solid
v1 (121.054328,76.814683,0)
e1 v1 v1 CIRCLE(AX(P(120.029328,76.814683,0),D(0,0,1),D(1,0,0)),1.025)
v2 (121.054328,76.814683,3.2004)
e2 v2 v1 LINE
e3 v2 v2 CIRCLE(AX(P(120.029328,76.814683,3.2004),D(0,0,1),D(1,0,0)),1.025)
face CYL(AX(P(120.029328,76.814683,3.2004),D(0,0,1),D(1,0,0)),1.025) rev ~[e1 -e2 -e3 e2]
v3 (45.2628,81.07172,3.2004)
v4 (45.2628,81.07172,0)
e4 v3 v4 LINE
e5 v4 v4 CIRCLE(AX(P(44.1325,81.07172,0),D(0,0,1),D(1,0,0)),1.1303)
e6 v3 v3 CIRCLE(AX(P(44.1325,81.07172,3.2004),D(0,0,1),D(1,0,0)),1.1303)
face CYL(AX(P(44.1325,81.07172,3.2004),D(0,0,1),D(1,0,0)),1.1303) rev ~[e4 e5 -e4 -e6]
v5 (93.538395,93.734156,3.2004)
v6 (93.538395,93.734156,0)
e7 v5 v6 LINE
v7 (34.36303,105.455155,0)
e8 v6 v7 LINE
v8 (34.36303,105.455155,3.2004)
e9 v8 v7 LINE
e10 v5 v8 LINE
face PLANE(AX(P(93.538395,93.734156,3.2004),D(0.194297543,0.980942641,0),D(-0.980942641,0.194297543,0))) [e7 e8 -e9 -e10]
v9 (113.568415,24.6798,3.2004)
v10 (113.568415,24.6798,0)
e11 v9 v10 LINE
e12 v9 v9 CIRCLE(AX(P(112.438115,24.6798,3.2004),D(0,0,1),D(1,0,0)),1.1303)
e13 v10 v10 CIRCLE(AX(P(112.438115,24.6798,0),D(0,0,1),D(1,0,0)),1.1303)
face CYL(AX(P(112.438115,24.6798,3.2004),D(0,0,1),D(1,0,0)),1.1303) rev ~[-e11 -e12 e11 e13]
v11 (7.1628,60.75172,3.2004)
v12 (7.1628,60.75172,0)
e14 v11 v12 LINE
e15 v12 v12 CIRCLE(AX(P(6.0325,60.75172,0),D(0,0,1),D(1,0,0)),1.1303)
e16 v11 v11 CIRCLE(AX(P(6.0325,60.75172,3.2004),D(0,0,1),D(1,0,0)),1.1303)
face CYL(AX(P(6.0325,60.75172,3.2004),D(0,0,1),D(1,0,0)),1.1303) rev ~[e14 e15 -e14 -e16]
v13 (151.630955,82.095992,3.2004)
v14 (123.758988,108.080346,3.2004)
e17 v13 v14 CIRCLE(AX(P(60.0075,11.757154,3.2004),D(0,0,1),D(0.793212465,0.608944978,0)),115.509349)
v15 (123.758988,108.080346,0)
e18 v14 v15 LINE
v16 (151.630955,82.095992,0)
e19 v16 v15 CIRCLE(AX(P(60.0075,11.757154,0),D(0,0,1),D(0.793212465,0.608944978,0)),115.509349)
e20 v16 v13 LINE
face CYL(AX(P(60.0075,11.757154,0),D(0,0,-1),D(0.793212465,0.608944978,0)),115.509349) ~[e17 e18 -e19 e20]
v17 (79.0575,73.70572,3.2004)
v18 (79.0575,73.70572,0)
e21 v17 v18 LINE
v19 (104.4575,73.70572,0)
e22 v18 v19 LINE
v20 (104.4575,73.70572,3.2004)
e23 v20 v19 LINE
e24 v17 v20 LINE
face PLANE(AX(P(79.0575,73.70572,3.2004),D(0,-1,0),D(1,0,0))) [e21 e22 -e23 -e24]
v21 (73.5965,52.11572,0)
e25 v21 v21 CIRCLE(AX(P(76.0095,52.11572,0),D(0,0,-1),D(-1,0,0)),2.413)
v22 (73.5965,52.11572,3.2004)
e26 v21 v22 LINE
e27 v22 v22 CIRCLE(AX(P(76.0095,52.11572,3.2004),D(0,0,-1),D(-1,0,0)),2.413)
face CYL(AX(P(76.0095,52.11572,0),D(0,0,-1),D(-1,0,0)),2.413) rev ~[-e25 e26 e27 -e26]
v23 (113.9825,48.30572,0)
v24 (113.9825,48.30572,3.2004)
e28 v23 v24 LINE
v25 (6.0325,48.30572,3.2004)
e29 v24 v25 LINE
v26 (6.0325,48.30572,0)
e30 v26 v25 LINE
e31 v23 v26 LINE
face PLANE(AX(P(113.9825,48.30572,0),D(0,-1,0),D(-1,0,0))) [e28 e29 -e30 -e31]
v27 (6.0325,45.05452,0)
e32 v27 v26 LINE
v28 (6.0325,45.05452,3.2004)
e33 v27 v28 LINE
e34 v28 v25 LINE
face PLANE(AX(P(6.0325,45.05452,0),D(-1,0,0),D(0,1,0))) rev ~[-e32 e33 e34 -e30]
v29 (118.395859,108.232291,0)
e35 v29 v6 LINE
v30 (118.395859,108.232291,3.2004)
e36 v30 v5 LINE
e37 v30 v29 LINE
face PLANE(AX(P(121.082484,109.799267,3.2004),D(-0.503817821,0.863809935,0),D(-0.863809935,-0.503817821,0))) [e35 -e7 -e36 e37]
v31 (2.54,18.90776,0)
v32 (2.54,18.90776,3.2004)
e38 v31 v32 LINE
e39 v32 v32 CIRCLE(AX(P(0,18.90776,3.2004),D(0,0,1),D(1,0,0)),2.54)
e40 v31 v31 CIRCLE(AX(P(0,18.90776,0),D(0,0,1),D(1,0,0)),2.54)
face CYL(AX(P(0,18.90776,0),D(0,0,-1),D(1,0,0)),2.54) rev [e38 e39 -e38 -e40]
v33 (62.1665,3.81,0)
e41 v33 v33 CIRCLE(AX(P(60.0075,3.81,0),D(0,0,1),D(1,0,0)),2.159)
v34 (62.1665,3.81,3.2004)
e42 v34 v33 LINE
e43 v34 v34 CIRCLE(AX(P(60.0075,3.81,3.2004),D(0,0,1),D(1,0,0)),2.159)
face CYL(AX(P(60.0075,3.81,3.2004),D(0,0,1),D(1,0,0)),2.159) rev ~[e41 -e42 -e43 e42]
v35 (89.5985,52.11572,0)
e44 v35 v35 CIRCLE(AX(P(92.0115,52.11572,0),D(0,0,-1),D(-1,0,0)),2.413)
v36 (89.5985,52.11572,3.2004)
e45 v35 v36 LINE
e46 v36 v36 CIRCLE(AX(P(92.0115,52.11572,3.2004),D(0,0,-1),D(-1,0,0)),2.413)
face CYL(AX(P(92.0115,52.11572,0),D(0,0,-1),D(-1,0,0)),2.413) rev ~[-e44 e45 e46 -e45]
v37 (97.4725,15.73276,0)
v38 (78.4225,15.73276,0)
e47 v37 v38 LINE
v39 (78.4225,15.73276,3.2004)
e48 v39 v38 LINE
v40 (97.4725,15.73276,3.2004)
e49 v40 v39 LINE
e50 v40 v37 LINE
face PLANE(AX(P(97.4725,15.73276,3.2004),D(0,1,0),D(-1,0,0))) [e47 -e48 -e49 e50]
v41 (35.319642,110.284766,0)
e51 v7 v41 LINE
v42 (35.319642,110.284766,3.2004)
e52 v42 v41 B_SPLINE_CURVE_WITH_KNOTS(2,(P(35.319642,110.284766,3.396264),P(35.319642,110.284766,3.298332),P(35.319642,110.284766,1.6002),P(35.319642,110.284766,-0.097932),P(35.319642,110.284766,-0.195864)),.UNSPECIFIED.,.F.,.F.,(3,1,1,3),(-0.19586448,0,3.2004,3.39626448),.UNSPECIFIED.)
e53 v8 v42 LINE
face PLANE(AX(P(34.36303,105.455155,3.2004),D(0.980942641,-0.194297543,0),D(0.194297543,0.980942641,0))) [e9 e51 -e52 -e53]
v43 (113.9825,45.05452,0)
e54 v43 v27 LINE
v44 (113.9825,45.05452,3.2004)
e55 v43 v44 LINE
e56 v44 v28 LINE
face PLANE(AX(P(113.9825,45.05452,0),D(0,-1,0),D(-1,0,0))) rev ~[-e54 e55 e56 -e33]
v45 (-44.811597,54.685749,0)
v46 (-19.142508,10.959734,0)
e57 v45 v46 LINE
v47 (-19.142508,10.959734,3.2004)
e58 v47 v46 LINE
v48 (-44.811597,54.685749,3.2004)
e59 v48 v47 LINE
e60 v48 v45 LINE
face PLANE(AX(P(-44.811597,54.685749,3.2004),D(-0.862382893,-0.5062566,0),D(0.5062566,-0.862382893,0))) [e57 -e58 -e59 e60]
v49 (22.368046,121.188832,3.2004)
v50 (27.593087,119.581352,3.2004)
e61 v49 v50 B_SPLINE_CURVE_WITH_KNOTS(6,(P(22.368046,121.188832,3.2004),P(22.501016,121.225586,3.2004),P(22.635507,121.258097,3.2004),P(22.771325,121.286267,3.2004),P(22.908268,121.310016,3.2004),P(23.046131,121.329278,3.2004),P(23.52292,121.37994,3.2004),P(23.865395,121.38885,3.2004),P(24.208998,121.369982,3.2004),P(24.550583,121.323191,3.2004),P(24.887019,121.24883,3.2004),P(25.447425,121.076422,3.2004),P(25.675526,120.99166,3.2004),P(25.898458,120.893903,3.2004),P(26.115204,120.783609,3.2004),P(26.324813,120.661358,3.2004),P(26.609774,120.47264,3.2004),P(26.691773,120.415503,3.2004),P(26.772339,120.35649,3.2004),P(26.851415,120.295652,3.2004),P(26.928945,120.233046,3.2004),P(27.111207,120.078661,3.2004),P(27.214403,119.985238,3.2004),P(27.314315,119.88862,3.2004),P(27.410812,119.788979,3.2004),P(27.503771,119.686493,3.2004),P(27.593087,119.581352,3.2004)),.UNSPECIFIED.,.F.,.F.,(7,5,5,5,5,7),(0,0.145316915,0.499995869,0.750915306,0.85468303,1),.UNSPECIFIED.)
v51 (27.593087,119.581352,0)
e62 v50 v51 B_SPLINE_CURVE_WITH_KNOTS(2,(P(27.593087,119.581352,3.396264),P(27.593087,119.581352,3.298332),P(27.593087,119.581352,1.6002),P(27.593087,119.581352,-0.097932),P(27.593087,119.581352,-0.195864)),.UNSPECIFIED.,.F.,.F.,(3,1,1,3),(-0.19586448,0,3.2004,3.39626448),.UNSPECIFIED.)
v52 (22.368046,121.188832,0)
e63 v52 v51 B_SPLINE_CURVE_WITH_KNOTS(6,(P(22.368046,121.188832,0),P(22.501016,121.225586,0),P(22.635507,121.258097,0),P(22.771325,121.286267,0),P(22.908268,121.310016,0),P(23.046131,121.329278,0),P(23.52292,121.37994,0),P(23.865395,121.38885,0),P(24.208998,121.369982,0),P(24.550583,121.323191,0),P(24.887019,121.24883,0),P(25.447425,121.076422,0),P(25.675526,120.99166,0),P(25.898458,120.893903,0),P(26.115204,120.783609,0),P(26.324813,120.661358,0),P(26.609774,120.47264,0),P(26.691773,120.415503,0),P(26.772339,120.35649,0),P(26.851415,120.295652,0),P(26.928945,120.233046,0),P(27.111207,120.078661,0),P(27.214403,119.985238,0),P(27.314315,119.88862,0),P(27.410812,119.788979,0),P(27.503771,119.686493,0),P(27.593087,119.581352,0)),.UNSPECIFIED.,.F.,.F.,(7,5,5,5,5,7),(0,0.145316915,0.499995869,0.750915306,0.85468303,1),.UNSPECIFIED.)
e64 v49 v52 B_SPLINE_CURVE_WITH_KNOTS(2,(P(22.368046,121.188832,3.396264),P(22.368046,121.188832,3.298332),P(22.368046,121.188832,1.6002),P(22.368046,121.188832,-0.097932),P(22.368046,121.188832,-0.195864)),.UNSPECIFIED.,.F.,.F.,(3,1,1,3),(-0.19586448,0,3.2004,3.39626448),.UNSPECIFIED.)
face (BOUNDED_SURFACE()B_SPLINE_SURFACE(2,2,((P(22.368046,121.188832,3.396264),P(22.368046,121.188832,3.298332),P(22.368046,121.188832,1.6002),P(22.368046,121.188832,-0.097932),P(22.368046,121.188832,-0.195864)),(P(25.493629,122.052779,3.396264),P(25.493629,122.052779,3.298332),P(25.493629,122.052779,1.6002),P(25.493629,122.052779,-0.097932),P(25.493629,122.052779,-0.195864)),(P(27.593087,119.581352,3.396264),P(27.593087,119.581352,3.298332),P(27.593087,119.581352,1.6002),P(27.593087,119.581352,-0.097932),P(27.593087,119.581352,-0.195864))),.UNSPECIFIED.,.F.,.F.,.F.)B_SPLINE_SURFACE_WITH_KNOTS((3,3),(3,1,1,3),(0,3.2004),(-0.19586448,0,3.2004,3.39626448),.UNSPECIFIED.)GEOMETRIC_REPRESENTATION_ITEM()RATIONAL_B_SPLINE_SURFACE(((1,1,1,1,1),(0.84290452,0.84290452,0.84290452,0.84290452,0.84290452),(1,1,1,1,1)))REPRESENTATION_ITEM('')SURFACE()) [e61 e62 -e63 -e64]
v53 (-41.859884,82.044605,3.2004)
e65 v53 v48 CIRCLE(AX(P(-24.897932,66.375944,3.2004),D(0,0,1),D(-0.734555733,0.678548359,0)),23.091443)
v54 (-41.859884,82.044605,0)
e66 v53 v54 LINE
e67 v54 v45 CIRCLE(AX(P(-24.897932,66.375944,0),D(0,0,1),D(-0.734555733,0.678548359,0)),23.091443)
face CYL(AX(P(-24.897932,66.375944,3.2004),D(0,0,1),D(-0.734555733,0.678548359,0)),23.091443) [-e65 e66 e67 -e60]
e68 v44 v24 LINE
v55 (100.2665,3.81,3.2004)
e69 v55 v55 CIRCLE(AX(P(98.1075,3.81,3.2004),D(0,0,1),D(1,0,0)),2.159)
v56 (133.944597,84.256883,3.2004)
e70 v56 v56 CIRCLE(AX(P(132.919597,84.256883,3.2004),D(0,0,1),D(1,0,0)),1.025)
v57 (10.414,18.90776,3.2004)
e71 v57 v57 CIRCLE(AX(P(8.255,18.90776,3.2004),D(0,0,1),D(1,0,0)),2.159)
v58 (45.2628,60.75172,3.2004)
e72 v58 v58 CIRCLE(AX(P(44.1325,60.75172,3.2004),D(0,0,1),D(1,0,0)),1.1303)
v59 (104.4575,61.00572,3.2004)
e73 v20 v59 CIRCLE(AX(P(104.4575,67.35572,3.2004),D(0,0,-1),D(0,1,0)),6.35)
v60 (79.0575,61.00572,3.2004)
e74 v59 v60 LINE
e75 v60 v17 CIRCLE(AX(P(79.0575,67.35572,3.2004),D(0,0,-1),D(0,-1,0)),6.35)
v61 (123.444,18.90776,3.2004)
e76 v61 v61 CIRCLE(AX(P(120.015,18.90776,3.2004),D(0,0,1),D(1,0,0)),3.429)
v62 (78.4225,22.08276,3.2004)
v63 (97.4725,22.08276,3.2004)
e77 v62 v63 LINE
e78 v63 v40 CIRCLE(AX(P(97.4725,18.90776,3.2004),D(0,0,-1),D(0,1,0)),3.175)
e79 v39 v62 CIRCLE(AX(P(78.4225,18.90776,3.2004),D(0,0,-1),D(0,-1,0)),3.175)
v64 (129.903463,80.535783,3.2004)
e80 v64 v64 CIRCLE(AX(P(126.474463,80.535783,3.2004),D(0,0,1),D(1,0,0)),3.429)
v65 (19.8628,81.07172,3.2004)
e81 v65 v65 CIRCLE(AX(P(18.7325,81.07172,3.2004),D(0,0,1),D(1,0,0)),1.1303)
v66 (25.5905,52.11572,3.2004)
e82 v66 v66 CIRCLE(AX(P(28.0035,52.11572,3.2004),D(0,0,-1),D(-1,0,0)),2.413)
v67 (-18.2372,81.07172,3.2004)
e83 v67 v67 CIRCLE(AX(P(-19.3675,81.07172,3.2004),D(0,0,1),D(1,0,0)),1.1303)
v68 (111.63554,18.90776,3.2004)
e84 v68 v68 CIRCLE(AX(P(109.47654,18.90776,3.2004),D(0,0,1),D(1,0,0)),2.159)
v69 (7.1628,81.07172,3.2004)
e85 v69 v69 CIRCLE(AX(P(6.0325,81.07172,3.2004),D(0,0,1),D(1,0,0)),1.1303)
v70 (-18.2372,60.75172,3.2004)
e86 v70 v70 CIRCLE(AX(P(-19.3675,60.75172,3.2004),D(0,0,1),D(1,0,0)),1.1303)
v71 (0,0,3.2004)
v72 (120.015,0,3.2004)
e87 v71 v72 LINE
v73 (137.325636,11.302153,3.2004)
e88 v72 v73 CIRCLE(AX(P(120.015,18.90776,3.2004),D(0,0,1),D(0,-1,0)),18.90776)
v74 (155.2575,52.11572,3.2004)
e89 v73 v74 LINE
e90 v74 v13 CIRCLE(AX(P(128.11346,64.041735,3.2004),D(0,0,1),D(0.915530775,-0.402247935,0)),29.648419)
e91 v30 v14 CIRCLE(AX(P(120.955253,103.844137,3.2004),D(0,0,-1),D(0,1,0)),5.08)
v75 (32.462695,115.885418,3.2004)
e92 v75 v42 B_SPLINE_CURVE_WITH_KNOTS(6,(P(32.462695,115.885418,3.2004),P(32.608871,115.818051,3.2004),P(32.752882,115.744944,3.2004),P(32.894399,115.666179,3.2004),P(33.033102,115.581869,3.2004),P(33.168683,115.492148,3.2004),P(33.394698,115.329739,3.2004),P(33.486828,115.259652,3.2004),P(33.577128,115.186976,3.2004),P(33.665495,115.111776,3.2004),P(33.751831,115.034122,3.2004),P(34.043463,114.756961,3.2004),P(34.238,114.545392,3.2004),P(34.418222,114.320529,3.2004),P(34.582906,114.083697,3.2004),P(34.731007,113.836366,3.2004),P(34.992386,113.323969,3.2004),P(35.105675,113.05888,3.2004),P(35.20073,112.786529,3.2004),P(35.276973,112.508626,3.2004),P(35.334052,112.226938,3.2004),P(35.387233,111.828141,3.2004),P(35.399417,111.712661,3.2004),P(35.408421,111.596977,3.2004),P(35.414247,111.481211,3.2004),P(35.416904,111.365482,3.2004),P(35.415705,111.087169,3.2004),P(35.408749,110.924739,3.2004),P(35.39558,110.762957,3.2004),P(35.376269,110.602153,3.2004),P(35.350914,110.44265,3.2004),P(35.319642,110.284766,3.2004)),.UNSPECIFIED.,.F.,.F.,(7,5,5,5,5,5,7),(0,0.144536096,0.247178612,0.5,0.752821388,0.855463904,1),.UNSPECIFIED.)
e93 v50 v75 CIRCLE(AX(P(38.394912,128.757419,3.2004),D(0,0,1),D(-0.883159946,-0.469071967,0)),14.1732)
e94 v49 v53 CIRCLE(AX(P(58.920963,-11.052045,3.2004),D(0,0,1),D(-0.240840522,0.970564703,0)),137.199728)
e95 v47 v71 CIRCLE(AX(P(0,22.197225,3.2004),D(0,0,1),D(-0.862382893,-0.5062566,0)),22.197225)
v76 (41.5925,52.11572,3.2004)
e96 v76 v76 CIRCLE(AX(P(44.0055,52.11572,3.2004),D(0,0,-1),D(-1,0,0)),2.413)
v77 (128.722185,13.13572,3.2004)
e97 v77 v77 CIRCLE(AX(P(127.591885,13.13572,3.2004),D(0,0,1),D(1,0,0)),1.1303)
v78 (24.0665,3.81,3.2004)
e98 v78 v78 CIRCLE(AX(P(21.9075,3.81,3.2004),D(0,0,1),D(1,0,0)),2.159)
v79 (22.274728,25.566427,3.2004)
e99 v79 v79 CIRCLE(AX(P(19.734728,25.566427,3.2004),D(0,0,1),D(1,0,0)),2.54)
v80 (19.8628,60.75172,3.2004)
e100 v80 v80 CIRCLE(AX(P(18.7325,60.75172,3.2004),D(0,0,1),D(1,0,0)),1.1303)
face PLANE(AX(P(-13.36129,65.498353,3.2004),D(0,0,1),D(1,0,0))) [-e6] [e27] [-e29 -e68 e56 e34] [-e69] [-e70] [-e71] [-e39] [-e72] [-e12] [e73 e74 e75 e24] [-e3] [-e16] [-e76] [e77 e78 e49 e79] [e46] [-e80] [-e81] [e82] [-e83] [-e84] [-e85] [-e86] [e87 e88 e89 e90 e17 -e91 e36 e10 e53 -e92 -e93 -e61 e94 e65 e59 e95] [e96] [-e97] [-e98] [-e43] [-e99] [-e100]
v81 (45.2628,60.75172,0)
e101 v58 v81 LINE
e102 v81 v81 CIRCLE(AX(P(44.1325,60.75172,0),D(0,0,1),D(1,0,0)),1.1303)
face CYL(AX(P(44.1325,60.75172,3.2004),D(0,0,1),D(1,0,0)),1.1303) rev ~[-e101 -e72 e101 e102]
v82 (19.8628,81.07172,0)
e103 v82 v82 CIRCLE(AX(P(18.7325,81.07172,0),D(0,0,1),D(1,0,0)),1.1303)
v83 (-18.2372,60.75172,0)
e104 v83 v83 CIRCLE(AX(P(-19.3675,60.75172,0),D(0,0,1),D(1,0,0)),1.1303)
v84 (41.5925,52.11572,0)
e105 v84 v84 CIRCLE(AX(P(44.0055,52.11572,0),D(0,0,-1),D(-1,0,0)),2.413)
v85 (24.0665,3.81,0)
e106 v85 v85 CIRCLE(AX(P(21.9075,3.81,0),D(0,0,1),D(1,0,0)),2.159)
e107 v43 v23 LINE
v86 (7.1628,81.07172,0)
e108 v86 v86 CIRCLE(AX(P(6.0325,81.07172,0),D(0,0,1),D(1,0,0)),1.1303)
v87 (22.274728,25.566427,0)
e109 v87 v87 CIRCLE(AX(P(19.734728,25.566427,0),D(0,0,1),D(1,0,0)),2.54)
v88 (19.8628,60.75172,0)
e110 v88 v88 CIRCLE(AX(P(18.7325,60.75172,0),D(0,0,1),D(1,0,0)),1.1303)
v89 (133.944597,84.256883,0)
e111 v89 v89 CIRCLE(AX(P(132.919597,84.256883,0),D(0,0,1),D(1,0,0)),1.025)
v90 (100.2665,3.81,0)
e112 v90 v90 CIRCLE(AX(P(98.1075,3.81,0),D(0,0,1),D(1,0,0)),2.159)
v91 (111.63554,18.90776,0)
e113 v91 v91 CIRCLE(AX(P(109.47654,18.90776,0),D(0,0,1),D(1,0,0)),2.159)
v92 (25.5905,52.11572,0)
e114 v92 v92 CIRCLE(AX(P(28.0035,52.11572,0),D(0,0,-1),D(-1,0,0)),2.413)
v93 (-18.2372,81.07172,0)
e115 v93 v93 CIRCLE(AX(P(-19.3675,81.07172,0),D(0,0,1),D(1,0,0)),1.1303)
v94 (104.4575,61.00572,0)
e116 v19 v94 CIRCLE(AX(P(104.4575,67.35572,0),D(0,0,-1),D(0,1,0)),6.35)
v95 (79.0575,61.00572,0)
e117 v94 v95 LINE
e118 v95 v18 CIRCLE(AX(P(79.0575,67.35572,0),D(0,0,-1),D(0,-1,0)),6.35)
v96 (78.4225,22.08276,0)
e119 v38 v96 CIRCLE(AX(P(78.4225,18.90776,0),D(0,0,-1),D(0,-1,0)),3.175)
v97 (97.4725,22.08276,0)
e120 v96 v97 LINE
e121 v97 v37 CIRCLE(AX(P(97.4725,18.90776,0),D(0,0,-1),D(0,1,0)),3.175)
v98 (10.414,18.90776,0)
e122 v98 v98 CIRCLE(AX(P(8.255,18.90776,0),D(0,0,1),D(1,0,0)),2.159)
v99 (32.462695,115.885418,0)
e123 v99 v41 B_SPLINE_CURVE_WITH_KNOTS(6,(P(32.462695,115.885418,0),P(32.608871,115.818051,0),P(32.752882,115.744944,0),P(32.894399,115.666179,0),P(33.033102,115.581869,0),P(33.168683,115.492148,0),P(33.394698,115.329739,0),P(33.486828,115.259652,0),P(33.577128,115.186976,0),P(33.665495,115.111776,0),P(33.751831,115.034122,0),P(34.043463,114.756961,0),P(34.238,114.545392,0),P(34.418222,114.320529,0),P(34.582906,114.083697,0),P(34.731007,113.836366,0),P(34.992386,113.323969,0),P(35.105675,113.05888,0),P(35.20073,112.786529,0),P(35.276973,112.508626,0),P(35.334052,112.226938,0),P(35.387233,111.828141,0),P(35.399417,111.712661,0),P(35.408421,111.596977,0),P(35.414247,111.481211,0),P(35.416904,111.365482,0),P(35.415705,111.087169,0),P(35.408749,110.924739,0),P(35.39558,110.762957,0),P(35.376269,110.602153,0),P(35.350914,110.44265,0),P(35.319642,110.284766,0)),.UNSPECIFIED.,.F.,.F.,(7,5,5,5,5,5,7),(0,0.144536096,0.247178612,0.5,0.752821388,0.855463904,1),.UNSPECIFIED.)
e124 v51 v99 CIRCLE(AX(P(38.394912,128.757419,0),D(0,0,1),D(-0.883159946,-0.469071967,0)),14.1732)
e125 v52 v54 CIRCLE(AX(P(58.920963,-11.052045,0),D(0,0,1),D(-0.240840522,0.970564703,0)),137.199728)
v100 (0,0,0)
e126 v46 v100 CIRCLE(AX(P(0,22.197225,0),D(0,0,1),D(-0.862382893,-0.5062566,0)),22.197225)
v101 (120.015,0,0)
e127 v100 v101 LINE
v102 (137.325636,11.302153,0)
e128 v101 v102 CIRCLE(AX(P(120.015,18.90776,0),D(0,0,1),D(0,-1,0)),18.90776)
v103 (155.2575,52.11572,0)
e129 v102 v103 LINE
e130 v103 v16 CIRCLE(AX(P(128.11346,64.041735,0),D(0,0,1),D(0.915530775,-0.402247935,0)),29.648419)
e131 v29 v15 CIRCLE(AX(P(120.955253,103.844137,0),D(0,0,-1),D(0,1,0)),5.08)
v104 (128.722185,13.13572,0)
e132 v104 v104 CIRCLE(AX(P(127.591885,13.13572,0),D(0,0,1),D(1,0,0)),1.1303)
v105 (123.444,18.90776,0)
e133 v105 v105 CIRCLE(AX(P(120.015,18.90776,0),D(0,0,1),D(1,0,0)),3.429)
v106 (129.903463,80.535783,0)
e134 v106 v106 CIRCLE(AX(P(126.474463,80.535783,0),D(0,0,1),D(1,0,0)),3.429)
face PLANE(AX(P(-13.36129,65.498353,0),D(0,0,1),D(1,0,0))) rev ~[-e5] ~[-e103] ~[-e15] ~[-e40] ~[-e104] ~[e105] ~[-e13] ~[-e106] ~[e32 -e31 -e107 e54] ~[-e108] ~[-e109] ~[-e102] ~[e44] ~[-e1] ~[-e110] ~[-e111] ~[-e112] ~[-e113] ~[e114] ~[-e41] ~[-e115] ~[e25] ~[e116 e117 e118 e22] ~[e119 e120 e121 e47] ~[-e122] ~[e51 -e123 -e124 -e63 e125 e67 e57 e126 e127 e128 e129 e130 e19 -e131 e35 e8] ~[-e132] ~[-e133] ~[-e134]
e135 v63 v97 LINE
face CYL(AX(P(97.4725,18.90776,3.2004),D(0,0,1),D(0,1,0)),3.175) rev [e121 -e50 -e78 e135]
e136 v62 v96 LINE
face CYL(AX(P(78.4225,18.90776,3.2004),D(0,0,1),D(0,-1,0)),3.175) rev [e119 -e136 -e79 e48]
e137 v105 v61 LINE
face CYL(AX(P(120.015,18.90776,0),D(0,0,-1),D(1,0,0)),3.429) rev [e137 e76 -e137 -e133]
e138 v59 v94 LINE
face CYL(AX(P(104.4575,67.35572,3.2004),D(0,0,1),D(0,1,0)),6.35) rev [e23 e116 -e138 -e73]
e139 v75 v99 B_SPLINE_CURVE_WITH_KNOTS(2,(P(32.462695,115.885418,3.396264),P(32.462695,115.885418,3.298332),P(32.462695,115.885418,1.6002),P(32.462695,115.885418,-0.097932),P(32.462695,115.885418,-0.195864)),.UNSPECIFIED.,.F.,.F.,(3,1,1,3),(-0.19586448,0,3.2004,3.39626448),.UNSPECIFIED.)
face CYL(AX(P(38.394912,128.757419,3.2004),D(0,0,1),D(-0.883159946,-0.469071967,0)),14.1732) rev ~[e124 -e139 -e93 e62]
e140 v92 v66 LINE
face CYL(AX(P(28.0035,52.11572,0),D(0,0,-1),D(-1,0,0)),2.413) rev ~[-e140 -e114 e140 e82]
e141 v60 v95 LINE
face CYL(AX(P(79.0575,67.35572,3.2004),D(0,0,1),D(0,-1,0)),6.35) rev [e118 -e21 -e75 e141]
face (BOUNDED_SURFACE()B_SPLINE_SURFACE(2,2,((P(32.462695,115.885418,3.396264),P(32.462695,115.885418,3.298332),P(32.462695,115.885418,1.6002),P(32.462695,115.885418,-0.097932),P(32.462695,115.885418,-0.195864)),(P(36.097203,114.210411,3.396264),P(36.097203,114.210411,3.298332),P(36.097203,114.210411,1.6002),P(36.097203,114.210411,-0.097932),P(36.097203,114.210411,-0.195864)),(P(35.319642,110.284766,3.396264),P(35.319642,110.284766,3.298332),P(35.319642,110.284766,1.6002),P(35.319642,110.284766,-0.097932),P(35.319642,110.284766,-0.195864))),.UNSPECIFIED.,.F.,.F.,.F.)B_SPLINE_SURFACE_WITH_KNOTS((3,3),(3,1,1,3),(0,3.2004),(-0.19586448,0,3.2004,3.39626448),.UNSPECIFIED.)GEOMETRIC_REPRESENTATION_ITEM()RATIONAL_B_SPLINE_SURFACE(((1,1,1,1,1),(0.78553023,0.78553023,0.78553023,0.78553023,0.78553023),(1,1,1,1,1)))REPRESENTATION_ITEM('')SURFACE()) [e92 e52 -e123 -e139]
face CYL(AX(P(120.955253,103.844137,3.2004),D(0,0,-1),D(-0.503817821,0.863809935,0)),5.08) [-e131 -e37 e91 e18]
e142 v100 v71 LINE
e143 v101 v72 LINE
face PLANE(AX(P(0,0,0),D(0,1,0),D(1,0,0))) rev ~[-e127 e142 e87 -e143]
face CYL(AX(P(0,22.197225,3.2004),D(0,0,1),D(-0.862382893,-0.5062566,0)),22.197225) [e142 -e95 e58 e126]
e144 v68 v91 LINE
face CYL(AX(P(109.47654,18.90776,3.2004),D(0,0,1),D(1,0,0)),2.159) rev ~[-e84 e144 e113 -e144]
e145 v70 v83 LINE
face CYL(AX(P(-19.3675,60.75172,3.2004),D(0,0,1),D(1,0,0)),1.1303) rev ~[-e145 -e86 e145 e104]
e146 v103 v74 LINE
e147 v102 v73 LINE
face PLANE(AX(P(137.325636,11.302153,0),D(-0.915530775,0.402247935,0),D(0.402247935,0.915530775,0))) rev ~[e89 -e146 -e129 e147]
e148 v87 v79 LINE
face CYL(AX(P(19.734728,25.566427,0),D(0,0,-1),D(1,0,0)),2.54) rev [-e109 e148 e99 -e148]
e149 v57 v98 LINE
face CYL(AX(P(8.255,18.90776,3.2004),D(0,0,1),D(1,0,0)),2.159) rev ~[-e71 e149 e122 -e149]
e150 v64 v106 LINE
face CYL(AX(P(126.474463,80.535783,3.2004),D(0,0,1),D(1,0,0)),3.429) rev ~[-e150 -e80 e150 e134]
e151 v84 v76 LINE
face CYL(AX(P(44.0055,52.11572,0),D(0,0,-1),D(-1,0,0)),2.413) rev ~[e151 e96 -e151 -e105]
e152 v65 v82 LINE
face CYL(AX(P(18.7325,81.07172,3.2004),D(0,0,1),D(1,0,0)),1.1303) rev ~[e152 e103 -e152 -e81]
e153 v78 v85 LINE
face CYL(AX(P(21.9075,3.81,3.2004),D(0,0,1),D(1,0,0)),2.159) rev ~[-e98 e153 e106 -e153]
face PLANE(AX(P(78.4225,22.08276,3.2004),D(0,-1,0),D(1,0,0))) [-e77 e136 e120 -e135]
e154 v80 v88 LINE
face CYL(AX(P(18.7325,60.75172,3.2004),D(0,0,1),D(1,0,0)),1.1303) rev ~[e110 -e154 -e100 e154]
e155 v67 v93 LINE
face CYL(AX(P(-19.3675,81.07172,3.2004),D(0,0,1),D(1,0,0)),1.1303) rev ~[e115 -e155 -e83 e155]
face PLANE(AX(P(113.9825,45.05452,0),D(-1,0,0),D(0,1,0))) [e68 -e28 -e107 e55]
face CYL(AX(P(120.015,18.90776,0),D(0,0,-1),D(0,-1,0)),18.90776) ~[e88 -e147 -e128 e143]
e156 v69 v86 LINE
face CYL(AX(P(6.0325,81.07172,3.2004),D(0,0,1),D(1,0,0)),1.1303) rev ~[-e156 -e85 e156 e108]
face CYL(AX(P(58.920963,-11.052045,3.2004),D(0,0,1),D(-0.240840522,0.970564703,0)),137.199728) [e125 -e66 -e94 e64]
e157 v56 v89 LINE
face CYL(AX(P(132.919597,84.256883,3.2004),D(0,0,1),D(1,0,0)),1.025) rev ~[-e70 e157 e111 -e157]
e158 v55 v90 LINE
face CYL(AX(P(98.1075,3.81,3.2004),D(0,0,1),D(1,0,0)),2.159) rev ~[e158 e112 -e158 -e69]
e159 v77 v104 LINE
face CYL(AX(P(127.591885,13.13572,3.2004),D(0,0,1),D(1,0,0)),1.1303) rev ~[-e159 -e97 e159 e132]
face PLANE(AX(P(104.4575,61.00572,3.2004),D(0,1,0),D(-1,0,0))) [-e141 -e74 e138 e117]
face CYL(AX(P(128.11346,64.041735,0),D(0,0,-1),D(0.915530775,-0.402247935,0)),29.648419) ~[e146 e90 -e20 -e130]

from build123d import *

# Parameters (mm, degrees)
SKETCH1_R           = 3.429
SKETCH1_R_2         = 2.54
BOSS_EXTRUDE1_DEPTH = 3.2004
SKETCH2_R           = 2.413
CUT_EXTRUDE1_DEPTH  = 3.2004
SKETCH3_R           = 2.159
CUT_EXTRUDE2_DEPTH  = 3.2004
SKETCH6_W           = 107.95
SKETCH6_H           = 3.2512
CUT_EXTRUDE3_DEPTH  = 3.2004
SKETCH7_R           = 3.429
CUT_EXTRUDE4_DEPTH  = 3.2004
CUT_EXTRUDE5_DEPTH  = 3.2004
CUT_EXTRUDE6_DEPTH  = 3.2004
BOSS_EXTRUDE2_DEPTH = 3.2004
SKETCH13_R          = 1.1303
CUT_EXTRUDE7_DEPTH  = 3.2004
CUT_EXTRUDE8_DEPTH  = 3.2004
FILLET1_R           = 5.08
SKETCH16_R          = 1.1303
SKETCH16_R_2        = 1.025
CUT_EXTRUDE9_DEPTH  = 3.2004
SKETCH20_R          = 2.159
CUT_EXTRUDE11_DEPTH = 3.2004


with BuildPart() as part:
    # Sketch1 → Boss-Extrude1 (new body)
    with BuildSketch(Plane.XY):
        with BuildLine():
            Line((0, 0), (120.015, 0))
            ThreePointArc((120.015, 0), (130.351788396, 3.075697789), (137.325636158, 11.302152592))
            Line((137.325636158, 11.302152592), (155.2575, 52.11572))
            ThreePointArc((155.2575, 52.11572), (157.54731739, 67.602183396), (151.630955452, 82.09599151))
            ThreePointArc((151.630955452, 82.09599151), (60.0075, 127.266502568), (-31.615955452, 82.09599151))
            ThreePointArc((-31.615955452, 82.09599151), (-37.53231739, 67.602183396), (-35.2425, 52.11572))
            Line((-35.2425, 52.11572), (-17.310636158, 11.302152592))
            ThreePointArc((-17.310636158, 11.302152592), (-10.336788396, 3.075697789), (0, 0))
        make_face()
        with Locations((120.015, 18.90776)):
            Circle(SKETCH1_R, mode=Mode.SUBTRACT)
        with Locations((0, 18.90776)):
            Circle(SKETCH1_R_2, mode=Mode.SUBTRACT)
        with Locations((19.734727626, 25.566426992)):
            Circle(SKETCH1_R_2, mode=Mode.SUBTRACT)
    extrude(amount=BOSS_EXTRUDE1_DEPTH)

    # Sketch2 → Cut-Extrude1 (cut)
    with BuildSketch(Plane(origin=(0, 0, 0), x_dir=(-1, 0, 0), z_dir=(0, 0, -1))):
        with Locations((-92.0115, 52.11572)):
            Circle(SKETCH2_R)
        with Locations((-76.0095, 52.11572)):
            Circle(SKETCH2_R)
        with Locations((-44.0055, 52.11572)):
            Circle(SKETCH2_R)
        with Locations((-28.0035, 52.11572)):
            Circle(SKETCH2_R)
    extrude(amount=-CUT_EXTRUDE1_DEPTH, mode=Mode.SUBTRACT)

    # Sketch3 → Cut-Extrude2 (cut)
    with BuildSketch(Plane.XY.offset(3.2004)):
        with Locations((21.9075, 3.81)):
            Circle(SKETCH3_R)
        with Locations((60.0075, 3.81)):
            Circle(SKETCH3_R)
        with Locations((98.1075, 3.81)):
            Circle(SKETCH3_R)
    extrude(amount=-CUT_EXTRUDE2_DEPTH, mode=Mode.SUBTRACT)

    # Sketch6 → Cut-Extrude3 (cut)
    with BuildSketch(Plane(origin=(0, 0, 0), x_dir=(-1, 0, 0), z_dir=(0, 0, -1))):
        with Locations((-60.0075, 46.68012)):
            Rectangle(SKETCH6_W, SKETCH6_H)
    extrude(amount=-CUT_EXTRUDE3_DEPTH, mode=Mode.SUBTRACT)

    # Sketch7 → Cut-Extrude4 (cut)
    with BuildSketch(Plane.XY.offset(3.2004)):
        with Locations((126.474462556, 80.535782848)):
            Circle(SKETCH7_R)
    extrude(amount=-CUT_EXTRUDE4_DEPTH, mode=Mode.SUBTRACT)

    # Sketch11 → Cut-Extrude5 (cut)
    with BuildSketch(Plane.XY.offset(3.2004)):
        with BuildLine():
            Line((121.0824837, 109.799267349), (93.538394554, 93.734155779))
            Line((93.538394554, 93.734155779), (34.363029741, 105.455155066))
            Line((34.363029741, 105.455155066), (38.27464621, 125.20358486))
            ThreePointArc((38.27464621, 125.20358486), (81.132699311, 125.318307405), (121.0824837, 109.799267349))
        make_face()
    extrude(amount=-CUT_EXTRUDE5_DEPTH, mode=Mode.SUBTRACT)

    # Sketch12 → Cut-Extrude6 (cut)
    with BuildSketch(Plane.XY.offset(3.2004)):
        with BuildLine():
            Line((35.641093634, 114.854322507), (36.202710537, 114.743081768))
            Line((36.202710537, 114.743081768), (38.27464621, 125.20358486))
            ThreePointArc((38.27464621, 125.20358486), (32.033357942, 123.827921759), (25.877709031, 122.109167938))
            ThreePointArc((25.877709031, 122.109167938), (29.941556488, 117.381110641), (35.641093634, 114.854322507))
        make_face()
    extrude(amount=-CUT_EXTRUDE6_DEPTH, mode=Mode.SUBTRACT)

    # Sketch14 → Boss-Extrude2 (add)
    with BuildSketch(Plane.XY.offset(3.2004)):
        with BuildLine():
            Line((-44.811597123, 54.685748683), (-19.142507527, 10.95973357))
            ThreePointArc((-19.142507527, 10.95973357), (-11.028954555, 2.933815076), (0, 0))
            ThreePointArc((0, 0), (-12.648210364, 66.477064779), (25.877709031, 122.109167938))
            ThreePointArc((25.877709031, 122.109167938), (-10.925402455, 107.037965152), (-41.85988351, 82.044605027))
            ThreePointArc((-41.85988351, 82.044605027), (-47.856144624, 68.852877757), (-44.811597123, 54.685748683))
        make_face()
    extrude(amount=-BOSS_EXTRUDE2_DEPTH)

    # Sketch13 → Cut-Extrude7 (cut)
    with BuildSketch(Plane.XY.offset(3.2004)):
        with Locations((44.1325, 81.07172)):
            Circle(SKETCH13_R)
        with Locations((44.1325, 60.75172)):
            Circle(SKETCH13_R)
        with Locations((18.7325, 60.75172)):
            Circle(SKETCH13_R)
        with Locations((18.7325, 81.07172)):
            Circle(SKETCH13_R)
        with Locations((6.0325, 81.07172)):
            Circle(SKETCH13_R)
        with Locations((6.0325, 60.75172)):
            Circle(SKETCH13_R)
        with Locations((-19.3675, 60.75172)):
            Circle(SKETCH13_R)
        with Locations((-19.3675, 81.07172)):
            Circle(SKETCH13_R)
    extrude(amount=-CUT_EXTRUDE7_DEPTH, mode=Mode.SUBTRACT)

    # Sketch15 → Cut-Extrude8 (cut)
    with BuildSketch(Plane.XY.offset(3.2004)):
        with BuildLine():
            Line((79.0575, 73.70572), (104.4575, 73.70572))
            ThreePointArc((104.4575, 73.70572), (110.8075, 67.35572), (104.4575, 61.00572))
            Line((104.4575, 61.00572), (79.0575, 61.00572))
            ThreePointArc((79.0575, 61.00572), (72.7075, 67.35572), (79.0575, 73.70572))
        make_face()
        with BuildLine():
            Line((78.4225, 22.08276), (97.4725, 22.08276))
            ThreePointArc((97.4725, 22.08276), (100.6475, 18.90776), (97.4725, 15.73276))
            Line((97.4725, 15.73276), (78.4225, 15.73276))
            ThreePointArc((78.4225, 15.73276), (75.2475, 18.90776), (78.4225, 22.08276))
        make_face()
    extrude(amount=-CUT_EXTRUDE8_DEPTH, mode=Mode.SUBTRACT)

    # Fillet1
    fillet1_edges = [part.edges().sort_by_distance(p)[0] for p in [
        (121.0824837, 109.799267349, 1.6002),
        (36.202710537, 114.743081768, 1.6002),
        (25.877709031, 122.109167938, 1.6002),
    ]]
    fillet(fillet1_edges, radius=FILLET1_R)

    # Sketch16 → Cut-Extrude9 (cut)
    with BuildSketch(Plane.XY.offset(3.2004)):
        with Locations((112.438115095, 24.679799513)):
            Circle(SKETCH16_R)
        with Locations((127.591884905, 13.135720487)):
            Circle(SKETCH16_R)
        with Locations((120.029328249, 76.814682821)):
            Circle(SKETCH16_R_2)
        with Locations((132.919596863, 84.256882875)):
            Circle(SKETCH16_R_2)
    extrude(amount=-CUT_EXTRUDE9_DEPTH, mode=Mode.SUBTRACT)

    # Sketch20 → Cut-Extrude11 (cut)
    with BuildSketch(Plane.XY.offset(3.2004)):
        with Locations((8.255, 18.90776)):
            Circle(SKETCH20_R)
        with Locations((109.47654, 18.90776)):
            Circle(SKETCH20_R)
    extrude(amount=-CUT_EXTRUDE11_DEPTH, mode=Mode.SUBTRACT)


solid = part.part
